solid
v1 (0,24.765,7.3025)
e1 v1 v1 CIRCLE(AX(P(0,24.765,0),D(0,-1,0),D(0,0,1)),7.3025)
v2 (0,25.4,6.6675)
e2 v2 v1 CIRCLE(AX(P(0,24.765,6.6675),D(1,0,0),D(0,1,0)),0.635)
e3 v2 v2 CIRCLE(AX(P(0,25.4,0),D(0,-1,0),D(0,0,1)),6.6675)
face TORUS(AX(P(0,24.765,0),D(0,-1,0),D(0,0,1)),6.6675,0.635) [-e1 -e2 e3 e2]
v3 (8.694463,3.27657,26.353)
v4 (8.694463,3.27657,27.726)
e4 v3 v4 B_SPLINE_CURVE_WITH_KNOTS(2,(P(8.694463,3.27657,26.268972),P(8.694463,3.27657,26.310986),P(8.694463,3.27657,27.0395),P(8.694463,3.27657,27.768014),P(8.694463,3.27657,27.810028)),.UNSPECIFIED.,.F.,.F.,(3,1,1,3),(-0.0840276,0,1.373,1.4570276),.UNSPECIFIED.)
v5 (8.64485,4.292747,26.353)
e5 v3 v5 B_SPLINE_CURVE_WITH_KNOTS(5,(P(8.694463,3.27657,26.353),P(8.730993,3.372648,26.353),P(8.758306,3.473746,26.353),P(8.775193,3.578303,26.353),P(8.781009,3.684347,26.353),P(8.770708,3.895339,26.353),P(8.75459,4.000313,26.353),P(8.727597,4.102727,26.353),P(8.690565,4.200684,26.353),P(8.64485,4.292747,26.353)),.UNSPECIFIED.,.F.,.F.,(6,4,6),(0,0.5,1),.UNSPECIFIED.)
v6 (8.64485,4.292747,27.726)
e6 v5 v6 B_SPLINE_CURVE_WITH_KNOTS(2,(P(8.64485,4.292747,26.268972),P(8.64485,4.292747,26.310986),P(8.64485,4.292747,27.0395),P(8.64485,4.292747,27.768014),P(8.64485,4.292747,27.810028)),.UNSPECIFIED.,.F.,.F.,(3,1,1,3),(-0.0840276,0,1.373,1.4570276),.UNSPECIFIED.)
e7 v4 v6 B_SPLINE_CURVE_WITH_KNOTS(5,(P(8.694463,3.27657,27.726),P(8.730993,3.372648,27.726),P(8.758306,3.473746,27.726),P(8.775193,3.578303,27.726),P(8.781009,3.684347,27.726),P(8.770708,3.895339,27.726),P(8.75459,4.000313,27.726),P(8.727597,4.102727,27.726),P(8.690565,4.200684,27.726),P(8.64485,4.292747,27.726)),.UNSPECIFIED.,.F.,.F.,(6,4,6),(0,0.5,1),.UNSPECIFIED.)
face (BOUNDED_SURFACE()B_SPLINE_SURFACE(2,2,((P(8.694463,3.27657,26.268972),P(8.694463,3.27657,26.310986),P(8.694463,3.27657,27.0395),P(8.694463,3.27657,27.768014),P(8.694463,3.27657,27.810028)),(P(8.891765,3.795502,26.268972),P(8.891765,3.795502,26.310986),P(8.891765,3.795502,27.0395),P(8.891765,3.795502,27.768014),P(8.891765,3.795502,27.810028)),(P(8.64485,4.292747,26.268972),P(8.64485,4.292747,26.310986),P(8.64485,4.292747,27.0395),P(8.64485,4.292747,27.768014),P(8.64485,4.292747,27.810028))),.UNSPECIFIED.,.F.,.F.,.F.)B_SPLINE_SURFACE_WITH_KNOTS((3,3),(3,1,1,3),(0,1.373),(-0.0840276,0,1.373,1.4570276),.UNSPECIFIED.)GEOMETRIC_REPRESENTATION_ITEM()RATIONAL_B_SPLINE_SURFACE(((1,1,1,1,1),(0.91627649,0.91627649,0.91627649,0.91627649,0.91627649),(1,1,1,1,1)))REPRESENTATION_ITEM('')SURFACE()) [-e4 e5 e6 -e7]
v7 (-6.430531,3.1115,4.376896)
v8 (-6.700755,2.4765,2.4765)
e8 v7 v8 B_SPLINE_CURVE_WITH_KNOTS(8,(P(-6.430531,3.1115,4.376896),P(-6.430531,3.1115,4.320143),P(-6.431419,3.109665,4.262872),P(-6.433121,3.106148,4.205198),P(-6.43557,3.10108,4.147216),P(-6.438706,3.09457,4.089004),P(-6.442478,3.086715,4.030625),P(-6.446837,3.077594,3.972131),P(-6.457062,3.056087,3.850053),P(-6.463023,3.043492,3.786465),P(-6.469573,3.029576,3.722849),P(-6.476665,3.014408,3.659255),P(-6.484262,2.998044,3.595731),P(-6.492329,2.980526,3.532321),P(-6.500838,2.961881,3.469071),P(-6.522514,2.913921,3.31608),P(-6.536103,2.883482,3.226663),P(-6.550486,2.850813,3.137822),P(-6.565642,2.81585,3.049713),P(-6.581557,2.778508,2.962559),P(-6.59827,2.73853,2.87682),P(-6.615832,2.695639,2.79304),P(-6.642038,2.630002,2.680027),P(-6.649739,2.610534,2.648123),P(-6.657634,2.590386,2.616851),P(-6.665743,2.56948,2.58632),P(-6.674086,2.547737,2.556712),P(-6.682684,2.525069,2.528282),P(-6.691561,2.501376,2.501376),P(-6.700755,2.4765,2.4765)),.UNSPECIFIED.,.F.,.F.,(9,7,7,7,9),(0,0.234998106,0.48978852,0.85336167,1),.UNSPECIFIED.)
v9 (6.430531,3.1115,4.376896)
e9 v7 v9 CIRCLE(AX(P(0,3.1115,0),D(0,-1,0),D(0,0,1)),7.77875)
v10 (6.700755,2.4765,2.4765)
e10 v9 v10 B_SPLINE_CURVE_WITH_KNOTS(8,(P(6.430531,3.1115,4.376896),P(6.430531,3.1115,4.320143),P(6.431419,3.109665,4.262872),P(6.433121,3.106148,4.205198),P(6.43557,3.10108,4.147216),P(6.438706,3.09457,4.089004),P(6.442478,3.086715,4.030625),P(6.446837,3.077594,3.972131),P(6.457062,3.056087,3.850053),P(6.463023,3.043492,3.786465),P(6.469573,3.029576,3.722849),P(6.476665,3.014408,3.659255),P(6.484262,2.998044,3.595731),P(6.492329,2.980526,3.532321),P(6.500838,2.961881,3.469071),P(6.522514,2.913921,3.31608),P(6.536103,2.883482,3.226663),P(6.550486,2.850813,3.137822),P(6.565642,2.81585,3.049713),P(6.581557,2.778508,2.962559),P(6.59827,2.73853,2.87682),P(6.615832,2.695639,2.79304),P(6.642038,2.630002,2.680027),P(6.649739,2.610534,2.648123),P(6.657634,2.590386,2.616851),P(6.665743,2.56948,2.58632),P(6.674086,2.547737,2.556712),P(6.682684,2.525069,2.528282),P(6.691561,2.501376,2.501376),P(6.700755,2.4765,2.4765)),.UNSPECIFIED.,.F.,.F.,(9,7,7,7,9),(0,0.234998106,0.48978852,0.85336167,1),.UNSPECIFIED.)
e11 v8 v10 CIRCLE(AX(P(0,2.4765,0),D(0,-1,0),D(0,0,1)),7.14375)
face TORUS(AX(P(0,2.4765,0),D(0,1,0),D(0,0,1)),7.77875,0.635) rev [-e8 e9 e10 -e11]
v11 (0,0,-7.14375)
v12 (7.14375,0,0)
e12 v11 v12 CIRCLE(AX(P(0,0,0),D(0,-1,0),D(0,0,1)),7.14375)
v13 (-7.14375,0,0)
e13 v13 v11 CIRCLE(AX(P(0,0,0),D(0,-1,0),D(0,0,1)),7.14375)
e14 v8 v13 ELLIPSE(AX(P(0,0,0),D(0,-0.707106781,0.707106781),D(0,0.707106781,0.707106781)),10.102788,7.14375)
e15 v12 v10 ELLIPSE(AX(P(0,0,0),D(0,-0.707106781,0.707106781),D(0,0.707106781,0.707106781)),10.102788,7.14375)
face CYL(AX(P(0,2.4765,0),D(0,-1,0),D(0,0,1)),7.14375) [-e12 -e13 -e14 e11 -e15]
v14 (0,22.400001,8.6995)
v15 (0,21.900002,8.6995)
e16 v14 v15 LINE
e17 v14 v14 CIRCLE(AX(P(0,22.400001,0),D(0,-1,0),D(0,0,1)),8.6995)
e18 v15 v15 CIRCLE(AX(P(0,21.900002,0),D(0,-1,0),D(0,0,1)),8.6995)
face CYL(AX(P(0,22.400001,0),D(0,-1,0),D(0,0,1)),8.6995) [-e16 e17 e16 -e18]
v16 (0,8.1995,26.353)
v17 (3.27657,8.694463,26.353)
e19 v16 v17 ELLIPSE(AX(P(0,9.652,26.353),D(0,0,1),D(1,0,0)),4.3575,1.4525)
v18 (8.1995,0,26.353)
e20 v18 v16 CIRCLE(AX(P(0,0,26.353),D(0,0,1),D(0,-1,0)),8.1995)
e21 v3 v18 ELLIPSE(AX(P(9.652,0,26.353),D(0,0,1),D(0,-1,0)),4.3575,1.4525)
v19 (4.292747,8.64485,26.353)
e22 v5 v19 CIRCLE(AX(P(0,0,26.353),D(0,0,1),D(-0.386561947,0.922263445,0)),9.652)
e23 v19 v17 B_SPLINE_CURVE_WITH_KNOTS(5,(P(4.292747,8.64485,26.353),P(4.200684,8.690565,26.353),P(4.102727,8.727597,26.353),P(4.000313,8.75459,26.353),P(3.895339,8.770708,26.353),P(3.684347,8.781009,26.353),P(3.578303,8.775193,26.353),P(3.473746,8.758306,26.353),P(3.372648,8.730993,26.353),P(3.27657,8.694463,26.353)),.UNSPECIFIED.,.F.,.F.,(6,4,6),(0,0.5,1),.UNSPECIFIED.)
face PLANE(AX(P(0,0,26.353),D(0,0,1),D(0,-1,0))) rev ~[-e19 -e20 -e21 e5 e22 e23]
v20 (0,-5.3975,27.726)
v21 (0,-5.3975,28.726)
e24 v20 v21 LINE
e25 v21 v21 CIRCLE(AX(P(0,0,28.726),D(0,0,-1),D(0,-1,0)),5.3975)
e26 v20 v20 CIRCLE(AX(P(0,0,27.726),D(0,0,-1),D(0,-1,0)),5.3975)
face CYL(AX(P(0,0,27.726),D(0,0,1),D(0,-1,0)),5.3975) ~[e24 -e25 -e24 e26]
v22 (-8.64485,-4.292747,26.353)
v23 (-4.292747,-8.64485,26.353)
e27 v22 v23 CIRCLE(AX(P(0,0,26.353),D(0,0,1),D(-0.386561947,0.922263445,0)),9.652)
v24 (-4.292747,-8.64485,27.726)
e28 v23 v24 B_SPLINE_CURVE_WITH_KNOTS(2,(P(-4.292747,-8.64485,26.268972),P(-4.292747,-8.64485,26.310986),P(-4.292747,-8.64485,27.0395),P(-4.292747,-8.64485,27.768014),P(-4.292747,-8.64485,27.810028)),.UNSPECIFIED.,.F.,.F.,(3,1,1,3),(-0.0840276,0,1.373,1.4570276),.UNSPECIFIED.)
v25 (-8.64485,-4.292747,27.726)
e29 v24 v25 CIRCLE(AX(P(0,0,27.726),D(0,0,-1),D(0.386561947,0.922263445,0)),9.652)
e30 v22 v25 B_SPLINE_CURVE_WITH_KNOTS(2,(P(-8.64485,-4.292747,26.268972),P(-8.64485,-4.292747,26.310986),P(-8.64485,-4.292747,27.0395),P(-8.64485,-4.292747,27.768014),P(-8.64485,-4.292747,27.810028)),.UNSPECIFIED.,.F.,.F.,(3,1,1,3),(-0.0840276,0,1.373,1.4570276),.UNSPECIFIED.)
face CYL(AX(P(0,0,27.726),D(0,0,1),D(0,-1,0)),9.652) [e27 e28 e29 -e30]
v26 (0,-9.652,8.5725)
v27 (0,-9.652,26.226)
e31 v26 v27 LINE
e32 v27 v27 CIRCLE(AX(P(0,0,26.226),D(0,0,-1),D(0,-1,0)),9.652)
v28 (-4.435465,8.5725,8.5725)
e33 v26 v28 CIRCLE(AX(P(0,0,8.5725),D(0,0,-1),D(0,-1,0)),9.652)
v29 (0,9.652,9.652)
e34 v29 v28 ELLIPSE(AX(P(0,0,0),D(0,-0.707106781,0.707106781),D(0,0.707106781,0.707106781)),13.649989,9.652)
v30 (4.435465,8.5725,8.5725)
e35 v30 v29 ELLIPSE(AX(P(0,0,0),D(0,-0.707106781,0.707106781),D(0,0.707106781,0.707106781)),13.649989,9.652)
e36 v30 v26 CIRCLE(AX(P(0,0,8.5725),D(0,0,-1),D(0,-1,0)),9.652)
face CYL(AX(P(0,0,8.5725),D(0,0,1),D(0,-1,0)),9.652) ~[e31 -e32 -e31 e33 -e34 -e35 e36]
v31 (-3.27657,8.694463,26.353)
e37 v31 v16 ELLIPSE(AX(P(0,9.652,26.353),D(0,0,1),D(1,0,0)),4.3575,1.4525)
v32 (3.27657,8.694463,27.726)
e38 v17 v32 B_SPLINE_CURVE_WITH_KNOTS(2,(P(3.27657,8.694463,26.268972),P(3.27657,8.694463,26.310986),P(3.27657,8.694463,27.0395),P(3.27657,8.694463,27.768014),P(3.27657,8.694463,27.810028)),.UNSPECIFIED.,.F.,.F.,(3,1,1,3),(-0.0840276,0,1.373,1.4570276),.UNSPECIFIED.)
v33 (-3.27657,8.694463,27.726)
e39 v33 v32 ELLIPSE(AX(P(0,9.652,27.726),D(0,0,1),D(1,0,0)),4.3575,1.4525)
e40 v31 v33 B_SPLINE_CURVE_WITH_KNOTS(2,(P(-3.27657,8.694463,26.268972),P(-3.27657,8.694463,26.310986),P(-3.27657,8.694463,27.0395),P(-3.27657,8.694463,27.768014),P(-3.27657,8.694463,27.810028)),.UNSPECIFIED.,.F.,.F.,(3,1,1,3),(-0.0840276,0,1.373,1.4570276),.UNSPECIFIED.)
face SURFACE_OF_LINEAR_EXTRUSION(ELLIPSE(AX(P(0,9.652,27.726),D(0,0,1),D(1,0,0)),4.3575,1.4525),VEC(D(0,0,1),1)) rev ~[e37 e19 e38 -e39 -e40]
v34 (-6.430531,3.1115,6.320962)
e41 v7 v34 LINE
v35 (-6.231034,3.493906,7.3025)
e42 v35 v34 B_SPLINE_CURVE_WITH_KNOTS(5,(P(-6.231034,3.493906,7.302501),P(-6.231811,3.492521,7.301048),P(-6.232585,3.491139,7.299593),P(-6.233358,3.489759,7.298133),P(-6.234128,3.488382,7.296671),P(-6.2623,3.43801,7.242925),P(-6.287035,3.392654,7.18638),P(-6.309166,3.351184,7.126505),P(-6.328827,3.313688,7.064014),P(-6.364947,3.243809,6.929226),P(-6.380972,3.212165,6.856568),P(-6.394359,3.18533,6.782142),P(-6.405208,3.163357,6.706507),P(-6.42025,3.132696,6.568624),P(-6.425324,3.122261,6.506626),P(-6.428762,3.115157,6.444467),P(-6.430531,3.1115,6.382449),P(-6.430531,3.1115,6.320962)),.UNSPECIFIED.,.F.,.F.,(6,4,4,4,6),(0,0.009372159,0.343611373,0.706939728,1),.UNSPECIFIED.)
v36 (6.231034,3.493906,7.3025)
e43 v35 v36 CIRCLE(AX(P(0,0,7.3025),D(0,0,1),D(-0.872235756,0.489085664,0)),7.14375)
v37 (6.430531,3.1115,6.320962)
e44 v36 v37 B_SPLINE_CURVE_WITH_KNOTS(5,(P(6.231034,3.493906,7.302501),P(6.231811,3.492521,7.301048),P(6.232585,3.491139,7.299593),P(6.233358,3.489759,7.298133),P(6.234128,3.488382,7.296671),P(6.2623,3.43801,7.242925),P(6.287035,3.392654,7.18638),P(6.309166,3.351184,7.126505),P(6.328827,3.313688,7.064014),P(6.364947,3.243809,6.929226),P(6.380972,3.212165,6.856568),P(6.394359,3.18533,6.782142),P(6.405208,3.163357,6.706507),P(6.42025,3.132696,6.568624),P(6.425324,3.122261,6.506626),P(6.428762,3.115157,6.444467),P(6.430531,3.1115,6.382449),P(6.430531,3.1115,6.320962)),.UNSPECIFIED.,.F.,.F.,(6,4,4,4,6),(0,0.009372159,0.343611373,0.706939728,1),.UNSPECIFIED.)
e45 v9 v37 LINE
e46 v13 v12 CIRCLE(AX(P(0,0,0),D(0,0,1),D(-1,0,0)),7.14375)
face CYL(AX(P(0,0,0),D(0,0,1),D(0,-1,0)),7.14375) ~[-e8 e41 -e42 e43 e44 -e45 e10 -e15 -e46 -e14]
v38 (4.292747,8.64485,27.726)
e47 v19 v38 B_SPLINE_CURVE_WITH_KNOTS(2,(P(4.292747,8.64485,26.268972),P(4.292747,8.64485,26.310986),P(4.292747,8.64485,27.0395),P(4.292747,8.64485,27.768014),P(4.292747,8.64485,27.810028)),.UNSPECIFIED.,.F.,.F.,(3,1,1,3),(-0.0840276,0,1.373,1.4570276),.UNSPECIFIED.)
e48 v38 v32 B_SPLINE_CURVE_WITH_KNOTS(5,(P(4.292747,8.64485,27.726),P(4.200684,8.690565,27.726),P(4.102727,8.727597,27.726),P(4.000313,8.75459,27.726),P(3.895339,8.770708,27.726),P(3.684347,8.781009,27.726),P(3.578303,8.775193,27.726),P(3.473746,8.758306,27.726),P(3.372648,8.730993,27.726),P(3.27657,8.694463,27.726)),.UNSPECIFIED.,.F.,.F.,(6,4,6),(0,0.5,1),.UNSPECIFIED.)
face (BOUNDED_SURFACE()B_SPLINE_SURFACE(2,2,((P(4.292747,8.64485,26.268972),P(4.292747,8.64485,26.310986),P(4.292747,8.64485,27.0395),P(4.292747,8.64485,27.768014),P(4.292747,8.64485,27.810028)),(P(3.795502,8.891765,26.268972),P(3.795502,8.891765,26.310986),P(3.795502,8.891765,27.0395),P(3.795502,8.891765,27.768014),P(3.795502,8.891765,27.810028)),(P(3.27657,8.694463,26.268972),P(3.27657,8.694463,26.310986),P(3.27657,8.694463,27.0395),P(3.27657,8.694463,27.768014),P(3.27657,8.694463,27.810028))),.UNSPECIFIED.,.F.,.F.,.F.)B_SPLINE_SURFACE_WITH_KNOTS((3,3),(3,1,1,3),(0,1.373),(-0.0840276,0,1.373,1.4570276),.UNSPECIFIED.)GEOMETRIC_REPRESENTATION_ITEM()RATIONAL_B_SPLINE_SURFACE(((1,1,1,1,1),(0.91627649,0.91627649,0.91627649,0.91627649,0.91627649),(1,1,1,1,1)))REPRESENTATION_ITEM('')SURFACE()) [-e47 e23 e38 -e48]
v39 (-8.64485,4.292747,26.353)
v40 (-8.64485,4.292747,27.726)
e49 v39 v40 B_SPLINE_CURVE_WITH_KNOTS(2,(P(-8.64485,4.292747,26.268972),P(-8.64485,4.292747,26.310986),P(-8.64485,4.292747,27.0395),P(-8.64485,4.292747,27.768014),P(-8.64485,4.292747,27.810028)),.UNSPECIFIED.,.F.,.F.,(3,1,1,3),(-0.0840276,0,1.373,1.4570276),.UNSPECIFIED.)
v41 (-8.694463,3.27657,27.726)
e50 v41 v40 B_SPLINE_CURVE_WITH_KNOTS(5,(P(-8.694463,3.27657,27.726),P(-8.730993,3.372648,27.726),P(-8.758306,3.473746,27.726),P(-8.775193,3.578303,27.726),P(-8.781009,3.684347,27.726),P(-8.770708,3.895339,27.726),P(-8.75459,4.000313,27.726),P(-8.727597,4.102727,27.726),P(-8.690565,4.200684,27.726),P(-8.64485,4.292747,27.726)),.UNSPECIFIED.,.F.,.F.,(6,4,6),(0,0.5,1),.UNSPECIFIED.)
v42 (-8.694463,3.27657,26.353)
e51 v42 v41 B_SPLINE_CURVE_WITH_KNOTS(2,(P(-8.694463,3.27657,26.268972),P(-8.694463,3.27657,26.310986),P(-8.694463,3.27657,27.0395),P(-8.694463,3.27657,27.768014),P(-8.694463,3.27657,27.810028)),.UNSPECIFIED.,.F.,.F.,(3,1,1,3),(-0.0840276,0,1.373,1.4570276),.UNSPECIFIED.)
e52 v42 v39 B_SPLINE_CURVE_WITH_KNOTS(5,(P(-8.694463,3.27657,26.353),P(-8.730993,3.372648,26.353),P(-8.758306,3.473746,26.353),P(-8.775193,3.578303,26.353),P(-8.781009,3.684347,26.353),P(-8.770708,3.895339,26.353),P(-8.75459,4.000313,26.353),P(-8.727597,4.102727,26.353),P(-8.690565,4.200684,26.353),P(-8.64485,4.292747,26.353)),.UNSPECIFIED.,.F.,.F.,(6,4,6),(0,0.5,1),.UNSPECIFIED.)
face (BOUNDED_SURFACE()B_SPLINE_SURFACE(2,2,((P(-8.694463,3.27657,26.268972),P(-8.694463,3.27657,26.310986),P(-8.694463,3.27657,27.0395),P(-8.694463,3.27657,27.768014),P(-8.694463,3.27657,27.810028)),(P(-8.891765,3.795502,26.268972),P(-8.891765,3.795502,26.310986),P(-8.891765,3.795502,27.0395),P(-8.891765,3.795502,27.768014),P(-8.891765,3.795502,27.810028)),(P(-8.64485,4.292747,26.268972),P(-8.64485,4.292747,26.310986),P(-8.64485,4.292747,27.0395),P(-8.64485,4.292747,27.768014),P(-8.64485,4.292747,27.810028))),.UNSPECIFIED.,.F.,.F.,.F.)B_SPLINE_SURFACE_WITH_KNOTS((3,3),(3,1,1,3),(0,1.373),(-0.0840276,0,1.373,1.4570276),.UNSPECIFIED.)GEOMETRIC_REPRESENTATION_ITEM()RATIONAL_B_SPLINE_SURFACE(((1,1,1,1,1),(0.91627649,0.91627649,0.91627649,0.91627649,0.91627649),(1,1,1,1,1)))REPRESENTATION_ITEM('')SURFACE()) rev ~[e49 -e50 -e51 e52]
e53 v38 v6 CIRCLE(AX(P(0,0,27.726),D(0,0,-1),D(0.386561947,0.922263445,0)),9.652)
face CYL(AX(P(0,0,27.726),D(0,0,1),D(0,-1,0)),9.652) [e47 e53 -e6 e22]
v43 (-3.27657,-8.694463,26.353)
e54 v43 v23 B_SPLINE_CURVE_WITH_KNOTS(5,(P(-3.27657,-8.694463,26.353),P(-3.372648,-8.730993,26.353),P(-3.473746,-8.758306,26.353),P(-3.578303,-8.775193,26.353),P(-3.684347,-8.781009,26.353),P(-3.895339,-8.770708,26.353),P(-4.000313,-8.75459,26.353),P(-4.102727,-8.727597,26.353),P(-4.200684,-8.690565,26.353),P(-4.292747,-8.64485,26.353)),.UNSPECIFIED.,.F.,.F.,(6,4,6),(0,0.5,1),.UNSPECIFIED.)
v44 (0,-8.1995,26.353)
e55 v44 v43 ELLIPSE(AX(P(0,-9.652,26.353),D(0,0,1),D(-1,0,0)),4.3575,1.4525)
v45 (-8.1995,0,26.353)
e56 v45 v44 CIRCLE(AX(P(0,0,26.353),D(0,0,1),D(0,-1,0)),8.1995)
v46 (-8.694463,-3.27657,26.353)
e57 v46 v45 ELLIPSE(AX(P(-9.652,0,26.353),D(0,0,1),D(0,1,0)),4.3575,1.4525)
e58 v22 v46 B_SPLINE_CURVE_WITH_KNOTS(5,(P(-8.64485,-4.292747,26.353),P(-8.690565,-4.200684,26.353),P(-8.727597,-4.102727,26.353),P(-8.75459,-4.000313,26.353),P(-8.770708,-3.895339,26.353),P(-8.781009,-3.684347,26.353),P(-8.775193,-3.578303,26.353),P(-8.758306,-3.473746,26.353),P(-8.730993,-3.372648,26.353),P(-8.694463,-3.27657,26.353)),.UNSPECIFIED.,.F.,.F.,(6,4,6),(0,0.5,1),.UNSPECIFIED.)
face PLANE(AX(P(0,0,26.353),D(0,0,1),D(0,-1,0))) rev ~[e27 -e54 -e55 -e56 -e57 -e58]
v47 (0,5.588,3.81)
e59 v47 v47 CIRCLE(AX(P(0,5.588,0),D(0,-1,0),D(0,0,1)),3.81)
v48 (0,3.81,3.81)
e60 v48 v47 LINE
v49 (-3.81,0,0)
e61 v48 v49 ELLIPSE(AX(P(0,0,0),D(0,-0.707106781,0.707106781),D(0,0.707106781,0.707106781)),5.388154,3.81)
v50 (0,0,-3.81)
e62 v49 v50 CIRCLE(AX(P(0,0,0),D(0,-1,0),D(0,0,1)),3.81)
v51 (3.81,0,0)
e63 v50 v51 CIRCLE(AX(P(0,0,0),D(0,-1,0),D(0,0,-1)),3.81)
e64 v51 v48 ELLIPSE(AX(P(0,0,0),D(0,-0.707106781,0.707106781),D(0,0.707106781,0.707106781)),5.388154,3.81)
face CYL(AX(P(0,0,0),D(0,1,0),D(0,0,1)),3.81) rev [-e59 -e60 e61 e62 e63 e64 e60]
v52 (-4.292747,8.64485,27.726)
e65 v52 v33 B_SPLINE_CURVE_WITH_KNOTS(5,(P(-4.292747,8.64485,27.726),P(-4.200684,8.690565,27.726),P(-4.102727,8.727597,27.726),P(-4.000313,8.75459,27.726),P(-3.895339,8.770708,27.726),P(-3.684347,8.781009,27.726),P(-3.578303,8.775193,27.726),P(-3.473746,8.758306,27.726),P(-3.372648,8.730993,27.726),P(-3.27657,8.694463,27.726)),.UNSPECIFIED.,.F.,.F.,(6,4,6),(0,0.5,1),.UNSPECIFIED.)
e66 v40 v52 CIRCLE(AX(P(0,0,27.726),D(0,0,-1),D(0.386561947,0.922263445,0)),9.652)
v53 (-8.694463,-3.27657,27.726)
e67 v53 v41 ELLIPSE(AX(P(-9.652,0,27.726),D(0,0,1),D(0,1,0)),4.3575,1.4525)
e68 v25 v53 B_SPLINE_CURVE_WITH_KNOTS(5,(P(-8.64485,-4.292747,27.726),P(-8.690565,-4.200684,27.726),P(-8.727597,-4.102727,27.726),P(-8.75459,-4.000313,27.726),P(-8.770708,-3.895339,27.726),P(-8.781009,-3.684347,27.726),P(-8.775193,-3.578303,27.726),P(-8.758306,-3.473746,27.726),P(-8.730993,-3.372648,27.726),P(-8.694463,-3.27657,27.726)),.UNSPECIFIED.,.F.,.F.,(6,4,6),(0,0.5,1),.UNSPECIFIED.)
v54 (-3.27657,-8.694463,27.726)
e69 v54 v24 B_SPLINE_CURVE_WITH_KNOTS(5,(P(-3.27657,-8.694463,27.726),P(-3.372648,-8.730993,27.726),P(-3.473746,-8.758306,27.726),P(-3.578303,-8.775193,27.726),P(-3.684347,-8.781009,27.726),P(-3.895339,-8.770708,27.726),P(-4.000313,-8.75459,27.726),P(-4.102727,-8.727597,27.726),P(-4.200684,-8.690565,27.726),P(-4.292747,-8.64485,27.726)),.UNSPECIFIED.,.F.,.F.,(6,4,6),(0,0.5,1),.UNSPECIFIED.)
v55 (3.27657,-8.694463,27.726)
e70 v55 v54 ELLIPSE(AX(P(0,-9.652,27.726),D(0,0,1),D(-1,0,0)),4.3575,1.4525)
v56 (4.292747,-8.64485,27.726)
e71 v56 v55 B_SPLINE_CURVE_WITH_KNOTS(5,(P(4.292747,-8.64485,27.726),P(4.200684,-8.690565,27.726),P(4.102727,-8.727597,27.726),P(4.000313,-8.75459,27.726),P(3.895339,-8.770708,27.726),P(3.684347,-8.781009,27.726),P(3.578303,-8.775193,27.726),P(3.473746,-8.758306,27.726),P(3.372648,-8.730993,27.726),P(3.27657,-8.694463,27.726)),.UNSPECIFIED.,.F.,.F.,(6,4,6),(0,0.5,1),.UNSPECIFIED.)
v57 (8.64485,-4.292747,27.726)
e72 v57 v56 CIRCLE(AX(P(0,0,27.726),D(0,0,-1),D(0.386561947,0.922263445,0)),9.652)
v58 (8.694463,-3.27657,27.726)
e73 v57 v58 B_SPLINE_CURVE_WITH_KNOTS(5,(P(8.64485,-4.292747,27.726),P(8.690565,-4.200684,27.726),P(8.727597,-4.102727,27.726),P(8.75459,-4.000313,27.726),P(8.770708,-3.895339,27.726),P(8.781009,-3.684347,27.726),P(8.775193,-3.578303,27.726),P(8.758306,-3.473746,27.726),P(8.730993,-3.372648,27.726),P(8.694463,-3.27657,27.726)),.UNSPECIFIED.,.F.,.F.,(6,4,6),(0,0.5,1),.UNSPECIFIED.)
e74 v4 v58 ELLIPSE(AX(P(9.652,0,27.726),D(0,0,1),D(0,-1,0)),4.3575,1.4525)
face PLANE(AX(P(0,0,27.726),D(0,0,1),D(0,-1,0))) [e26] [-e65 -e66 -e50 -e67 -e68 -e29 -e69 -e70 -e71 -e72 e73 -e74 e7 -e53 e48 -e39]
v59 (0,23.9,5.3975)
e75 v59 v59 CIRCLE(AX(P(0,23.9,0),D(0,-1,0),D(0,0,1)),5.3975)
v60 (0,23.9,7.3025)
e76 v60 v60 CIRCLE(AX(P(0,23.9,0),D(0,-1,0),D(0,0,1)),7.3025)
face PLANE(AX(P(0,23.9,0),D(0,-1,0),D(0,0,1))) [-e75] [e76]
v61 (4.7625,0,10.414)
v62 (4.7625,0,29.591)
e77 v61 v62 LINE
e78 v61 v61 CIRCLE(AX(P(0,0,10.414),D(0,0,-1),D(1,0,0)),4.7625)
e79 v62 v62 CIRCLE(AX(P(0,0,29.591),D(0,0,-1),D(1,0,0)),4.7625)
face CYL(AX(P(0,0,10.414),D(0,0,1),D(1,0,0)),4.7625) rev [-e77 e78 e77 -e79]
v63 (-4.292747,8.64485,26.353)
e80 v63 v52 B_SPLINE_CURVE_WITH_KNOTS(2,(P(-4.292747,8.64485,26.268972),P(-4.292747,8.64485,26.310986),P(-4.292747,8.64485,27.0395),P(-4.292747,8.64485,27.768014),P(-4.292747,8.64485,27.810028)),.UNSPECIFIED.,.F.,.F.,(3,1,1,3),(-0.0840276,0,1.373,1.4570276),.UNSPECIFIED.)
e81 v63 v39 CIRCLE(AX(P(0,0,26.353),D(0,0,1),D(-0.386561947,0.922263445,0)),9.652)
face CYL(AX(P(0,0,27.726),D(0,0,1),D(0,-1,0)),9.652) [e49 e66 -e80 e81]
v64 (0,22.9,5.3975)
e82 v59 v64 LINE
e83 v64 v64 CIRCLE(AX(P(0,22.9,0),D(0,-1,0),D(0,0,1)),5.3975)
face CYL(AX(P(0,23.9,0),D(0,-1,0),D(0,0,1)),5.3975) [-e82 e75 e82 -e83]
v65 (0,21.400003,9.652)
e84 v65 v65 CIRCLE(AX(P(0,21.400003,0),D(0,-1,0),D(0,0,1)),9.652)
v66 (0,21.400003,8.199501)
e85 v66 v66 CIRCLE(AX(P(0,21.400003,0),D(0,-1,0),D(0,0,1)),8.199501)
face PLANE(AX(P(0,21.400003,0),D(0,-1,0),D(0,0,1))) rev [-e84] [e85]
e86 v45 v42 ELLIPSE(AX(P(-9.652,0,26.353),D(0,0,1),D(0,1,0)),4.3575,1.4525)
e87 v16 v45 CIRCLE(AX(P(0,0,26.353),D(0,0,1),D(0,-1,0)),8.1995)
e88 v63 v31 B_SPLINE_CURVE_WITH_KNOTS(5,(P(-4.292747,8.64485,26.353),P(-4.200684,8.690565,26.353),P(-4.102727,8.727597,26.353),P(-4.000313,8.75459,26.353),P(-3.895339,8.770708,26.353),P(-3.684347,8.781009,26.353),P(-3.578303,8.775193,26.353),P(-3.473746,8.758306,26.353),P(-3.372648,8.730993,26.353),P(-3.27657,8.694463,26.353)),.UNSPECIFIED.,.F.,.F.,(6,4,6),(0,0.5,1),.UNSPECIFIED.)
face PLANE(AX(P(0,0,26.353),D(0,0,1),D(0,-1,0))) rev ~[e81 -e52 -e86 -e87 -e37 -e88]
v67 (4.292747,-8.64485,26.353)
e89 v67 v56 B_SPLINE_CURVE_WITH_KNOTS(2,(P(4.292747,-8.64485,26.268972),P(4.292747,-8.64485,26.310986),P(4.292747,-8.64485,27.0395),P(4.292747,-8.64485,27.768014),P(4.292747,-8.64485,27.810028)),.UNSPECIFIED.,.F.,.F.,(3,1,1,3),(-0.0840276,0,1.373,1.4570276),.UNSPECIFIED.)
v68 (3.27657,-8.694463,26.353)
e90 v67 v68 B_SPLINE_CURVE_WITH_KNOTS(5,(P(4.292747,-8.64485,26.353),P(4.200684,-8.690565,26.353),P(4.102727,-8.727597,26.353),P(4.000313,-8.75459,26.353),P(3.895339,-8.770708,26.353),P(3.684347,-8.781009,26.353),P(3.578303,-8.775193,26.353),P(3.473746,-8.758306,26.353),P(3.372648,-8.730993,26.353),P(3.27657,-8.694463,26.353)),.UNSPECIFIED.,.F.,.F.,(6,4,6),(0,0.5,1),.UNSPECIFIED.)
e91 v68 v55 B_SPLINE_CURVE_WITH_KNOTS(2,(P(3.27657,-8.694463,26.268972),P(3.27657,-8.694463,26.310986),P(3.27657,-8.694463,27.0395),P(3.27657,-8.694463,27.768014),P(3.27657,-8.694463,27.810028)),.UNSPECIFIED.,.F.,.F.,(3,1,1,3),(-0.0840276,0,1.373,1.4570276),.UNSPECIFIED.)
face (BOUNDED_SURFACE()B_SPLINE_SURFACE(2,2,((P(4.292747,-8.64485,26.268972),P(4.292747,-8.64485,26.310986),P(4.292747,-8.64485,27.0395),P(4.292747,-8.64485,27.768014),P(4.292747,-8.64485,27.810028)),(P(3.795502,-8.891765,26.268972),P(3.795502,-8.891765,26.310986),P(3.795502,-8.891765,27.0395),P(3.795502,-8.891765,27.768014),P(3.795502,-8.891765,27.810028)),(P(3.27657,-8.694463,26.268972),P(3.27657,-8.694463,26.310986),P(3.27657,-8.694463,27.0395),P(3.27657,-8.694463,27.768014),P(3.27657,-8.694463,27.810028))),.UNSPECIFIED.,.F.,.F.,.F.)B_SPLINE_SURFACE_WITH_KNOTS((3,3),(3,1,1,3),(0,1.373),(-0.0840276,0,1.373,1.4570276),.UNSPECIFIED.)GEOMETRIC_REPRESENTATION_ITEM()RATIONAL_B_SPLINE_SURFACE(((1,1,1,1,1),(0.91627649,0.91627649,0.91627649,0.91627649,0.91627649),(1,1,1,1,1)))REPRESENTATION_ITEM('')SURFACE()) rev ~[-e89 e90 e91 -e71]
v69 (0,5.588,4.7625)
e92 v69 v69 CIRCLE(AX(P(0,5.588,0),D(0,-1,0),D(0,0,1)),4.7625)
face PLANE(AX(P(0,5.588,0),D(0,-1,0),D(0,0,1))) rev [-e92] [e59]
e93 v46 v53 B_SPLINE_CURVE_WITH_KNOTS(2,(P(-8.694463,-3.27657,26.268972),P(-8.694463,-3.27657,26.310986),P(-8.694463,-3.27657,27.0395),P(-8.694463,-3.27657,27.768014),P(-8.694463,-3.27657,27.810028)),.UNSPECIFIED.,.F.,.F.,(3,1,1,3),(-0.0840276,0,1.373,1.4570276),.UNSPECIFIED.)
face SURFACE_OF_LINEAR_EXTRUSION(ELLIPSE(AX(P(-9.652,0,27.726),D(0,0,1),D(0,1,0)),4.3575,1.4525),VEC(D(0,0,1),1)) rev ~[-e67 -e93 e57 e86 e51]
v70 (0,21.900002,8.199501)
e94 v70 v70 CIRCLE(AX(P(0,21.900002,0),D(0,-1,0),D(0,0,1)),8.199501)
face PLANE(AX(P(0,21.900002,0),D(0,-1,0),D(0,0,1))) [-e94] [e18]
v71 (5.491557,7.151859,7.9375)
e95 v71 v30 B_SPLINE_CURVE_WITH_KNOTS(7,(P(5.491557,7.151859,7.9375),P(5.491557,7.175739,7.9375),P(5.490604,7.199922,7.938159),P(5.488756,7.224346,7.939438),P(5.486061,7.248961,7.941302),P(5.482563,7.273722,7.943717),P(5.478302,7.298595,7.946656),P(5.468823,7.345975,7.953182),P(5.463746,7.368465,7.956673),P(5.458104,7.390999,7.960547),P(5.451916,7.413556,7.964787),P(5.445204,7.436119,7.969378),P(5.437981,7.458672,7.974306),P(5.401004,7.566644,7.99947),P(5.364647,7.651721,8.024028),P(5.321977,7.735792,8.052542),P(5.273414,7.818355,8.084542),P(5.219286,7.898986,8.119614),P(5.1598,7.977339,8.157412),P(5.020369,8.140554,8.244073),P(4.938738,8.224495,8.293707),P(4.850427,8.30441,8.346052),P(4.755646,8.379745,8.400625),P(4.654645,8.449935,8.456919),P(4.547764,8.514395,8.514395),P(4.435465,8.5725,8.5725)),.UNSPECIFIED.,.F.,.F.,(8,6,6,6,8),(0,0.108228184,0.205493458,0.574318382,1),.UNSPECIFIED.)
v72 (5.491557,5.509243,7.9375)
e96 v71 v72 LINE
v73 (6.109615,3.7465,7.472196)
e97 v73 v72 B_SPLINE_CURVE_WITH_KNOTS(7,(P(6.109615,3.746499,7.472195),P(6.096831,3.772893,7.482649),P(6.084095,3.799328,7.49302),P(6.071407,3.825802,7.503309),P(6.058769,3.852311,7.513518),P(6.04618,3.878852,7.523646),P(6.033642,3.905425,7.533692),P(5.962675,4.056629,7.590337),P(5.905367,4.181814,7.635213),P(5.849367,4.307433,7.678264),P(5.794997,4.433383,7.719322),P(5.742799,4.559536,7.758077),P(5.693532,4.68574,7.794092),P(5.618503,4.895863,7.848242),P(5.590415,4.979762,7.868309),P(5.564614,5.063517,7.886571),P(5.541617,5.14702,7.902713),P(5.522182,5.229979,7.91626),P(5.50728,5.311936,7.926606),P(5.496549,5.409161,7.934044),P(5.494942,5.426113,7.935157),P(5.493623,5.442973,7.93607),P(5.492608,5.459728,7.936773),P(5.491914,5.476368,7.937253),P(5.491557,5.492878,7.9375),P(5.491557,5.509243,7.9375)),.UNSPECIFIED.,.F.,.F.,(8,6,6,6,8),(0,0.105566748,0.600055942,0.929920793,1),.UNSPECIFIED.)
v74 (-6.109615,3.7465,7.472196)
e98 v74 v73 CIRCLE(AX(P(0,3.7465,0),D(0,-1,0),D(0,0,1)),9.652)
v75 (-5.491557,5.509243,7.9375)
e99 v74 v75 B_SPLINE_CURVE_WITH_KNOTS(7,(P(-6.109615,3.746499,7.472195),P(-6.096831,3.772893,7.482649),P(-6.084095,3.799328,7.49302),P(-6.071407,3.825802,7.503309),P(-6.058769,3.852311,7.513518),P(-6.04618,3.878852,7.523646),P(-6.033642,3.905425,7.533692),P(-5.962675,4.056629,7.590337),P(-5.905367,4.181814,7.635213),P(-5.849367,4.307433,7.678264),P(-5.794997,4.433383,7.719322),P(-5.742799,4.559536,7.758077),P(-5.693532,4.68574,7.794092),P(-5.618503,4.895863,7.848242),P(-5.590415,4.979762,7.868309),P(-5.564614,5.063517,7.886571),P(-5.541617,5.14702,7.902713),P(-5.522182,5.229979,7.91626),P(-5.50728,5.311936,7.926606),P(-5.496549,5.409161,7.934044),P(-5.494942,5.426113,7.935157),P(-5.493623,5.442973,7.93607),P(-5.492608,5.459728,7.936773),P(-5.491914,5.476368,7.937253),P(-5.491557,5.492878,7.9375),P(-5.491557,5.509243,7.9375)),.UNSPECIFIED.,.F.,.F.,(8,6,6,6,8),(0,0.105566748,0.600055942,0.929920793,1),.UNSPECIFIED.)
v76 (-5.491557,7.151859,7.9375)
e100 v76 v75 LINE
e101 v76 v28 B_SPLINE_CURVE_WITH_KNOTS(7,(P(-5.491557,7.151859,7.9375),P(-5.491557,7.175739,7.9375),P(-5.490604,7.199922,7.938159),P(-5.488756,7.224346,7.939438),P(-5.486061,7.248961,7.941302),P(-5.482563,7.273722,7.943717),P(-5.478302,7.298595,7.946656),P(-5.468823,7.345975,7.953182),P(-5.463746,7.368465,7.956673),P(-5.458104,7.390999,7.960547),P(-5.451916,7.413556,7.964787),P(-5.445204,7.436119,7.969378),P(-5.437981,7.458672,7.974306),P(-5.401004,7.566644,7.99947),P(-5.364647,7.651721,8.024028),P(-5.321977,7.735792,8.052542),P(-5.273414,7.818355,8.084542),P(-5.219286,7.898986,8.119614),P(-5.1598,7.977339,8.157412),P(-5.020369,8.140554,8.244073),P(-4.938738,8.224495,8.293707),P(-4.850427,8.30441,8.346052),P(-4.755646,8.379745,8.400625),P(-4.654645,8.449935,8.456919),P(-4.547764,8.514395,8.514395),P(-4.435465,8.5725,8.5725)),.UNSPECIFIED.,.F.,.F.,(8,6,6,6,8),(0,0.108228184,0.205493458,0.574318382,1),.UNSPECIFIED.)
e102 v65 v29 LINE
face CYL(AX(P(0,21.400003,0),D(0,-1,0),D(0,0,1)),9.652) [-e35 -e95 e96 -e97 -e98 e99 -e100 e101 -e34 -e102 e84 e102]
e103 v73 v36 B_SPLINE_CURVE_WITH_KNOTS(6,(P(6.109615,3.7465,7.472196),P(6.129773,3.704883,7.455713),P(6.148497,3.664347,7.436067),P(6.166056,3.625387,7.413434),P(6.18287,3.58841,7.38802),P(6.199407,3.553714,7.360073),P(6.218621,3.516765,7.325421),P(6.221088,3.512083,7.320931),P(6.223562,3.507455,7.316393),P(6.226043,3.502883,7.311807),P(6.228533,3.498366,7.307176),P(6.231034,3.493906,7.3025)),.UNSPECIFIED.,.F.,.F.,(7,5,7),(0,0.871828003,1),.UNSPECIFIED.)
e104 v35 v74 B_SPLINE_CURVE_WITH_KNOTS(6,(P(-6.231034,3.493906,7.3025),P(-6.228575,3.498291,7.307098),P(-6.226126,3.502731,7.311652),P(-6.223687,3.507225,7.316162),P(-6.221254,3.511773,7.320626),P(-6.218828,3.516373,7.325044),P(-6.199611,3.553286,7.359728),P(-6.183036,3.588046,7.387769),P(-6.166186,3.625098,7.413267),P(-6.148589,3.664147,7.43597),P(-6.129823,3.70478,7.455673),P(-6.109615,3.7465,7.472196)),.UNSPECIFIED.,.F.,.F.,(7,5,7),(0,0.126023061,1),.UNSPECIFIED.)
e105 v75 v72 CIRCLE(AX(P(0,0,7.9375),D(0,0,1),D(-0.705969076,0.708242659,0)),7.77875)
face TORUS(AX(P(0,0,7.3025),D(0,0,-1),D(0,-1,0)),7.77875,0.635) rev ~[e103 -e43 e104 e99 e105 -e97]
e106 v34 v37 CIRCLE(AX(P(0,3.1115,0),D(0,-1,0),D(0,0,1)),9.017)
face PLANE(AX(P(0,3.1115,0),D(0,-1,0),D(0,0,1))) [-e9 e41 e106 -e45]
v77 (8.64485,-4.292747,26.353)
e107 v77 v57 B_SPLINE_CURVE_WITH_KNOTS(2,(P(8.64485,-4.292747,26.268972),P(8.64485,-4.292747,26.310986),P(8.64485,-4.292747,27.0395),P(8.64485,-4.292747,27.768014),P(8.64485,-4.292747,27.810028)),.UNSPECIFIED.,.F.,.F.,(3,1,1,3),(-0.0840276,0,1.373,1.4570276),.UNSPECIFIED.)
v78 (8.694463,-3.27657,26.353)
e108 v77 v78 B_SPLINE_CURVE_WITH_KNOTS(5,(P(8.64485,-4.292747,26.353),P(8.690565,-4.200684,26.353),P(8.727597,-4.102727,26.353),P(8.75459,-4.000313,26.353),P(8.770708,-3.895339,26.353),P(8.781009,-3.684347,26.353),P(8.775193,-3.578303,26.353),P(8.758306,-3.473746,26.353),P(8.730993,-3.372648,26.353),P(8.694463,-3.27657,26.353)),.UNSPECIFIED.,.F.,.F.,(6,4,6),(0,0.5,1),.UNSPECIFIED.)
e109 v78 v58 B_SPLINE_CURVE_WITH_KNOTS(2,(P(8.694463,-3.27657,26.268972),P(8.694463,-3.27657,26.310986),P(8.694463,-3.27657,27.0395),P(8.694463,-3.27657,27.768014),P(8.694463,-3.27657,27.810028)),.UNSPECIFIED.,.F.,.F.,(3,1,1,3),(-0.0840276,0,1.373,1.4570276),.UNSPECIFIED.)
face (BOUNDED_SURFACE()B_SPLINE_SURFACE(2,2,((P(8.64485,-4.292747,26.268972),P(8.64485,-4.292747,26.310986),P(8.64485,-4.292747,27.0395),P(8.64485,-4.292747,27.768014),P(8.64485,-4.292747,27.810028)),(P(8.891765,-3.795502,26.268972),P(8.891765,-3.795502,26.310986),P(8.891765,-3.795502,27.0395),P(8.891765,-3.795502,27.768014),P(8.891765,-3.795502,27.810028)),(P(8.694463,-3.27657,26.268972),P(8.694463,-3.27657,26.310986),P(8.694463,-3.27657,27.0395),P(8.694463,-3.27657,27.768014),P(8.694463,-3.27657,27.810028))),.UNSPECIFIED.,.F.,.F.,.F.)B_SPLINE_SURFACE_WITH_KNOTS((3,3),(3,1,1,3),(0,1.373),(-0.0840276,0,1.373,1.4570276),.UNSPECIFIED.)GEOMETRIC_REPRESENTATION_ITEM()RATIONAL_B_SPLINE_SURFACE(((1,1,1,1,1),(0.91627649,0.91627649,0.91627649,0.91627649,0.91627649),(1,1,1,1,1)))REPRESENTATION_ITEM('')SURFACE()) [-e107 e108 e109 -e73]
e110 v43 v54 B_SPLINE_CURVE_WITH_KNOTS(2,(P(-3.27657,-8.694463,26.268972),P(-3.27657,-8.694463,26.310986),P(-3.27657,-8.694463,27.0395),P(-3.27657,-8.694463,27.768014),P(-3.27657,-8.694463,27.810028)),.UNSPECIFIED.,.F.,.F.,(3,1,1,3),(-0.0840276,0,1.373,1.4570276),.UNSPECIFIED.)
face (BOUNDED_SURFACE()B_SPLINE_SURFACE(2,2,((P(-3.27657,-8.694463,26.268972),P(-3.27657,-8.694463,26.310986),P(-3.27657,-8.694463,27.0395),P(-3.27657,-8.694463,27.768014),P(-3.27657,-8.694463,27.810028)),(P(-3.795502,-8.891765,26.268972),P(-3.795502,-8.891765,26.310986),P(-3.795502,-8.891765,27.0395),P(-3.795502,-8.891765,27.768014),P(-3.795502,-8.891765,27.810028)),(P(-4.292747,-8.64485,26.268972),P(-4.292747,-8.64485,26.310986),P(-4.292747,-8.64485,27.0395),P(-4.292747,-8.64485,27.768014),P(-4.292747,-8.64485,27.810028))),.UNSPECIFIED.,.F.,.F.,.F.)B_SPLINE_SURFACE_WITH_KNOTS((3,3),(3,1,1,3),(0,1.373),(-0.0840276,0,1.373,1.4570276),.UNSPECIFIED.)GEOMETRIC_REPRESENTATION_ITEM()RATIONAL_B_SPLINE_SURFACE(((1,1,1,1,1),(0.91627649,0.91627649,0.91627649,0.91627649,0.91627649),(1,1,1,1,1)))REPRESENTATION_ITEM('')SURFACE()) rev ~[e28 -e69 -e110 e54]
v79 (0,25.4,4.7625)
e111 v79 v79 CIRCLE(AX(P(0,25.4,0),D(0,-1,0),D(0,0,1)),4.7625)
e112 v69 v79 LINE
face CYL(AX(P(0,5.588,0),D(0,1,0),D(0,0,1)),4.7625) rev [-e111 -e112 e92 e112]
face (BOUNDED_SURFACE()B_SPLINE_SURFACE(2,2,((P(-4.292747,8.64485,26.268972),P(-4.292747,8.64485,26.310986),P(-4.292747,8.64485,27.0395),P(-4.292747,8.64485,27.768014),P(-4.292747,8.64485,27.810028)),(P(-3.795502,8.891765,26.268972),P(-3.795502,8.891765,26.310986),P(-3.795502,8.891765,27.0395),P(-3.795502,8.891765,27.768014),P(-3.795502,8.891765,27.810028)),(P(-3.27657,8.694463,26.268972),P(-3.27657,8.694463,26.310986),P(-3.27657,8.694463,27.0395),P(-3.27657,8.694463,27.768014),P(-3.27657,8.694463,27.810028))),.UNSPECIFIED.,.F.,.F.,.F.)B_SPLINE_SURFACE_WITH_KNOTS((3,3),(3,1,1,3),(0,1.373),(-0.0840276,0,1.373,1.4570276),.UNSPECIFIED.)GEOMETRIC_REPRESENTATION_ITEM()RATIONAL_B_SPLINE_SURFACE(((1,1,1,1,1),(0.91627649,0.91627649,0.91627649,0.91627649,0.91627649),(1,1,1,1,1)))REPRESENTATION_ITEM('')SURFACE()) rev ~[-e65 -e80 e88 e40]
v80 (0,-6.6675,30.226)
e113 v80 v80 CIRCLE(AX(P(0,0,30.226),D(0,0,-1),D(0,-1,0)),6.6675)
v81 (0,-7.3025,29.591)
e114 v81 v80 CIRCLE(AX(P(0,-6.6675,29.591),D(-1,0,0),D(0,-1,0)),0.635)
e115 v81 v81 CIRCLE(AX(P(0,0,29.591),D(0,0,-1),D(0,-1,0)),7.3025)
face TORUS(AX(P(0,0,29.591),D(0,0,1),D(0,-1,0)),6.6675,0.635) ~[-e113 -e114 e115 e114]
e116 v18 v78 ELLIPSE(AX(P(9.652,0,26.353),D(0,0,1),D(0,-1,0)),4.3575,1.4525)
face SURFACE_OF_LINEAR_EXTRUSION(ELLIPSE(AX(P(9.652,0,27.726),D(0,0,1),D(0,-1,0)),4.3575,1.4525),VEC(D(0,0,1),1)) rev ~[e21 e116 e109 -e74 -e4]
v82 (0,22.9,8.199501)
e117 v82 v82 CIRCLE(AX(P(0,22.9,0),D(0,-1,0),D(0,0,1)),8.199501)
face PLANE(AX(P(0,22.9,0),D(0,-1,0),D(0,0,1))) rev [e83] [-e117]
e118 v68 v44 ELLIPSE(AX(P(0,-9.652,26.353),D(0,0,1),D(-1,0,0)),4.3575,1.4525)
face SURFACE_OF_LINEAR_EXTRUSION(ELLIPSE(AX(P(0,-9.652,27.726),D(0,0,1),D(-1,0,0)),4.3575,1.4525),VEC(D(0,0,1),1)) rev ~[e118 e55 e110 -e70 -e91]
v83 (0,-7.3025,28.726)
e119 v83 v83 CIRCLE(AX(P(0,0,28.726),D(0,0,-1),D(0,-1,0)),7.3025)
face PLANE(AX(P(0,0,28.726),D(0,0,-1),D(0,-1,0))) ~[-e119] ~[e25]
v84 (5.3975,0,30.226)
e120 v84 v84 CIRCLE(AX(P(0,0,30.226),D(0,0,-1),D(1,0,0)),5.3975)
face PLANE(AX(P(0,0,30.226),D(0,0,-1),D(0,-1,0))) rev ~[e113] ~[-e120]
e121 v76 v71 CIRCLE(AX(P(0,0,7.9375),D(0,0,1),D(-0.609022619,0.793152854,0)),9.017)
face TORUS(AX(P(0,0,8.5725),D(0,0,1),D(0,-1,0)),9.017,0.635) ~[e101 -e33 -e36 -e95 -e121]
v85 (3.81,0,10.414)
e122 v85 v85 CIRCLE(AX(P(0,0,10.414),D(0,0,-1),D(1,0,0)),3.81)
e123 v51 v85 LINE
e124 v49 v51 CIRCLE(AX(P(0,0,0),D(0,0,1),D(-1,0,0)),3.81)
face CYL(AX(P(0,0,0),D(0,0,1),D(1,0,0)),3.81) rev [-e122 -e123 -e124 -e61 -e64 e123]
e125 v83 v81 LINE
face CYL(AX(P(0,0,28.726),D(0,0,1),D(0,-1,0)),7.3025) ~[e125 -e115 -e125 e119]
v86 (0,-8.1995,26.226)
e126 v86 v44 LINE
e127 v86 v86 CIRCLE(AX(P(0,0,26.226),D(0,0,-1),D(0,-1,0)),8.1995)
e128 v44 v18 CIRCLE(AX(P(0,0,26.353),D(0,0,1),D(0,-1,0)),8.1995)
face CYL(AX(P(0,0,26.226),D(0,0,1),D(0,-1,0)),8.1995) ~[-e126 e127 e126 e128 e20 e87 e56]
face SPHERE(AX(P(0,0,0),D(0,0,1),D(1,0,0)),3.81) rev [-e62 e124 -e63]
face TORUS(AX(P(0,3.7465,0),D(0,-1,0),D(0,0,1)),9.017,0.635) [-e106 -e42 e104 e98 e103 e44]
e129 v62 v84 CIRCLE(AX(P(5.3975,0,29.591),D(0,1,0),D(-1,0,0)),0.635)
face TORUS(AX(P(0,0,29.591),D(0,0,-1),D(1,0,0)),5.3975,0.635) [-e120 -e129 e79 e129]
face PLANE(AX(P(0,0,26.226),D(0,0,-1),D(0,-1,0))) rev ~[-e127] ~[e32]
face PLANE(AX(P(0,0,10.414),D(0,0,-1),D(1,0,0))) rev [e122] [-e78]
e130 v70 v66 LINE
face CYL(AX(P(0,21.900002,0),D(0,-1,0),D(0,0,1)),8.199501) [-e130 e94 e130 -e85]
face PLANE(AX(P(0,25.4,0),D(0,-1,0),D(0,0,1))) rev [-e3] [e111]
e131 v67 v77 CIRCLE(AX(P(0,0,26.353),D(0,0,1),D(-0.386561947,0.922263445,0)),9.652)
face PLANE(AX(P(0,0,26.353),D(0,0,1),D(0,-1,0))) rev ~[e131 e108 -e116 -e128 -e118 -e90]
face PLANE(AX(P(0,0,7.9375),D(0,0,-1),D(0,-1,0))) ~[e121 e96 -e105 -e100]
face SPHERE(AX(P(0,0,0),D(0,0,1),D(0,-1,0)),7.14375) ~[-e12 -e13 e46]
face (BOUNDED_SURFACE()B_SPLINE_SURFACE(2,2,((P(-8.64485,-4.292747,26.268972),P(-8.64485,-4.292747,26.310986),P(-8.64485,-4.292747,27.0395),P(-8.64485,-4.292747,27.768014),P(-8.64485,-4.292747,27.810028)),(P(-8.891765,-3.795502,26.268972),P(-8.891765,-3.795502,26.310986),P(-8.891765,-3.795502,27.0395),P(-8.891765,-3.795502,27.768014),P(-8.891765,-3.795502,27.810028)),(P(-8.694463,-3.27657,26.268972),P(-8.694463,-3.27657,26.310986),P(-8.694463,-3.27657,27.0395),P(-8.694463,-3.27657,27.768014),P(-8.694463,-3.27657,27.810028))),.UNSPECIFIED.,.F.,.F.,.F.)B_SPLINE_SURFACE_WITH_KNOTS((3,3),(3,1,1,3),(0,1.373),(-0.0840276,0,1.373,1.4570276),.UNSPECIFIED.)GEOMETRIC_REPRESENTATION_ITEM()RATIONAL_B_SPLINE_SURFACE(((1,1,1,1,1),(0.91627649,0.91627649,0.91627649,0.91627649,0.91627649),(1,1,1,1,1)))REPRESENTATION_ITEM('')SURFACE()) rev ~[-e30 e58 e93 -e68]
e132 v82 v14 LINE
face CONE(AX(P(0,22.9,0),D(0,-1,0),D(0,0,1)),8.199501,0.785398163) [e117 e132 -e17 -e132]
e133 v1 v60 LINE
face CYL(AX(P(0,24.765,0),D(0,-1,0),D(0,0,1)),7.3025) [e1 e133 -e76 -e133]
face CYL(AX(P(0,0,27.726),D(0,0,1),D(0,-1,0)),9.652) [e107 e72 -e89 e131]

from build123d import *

# Parameters (mm, degrees)
SKETCH3_R                = 9.652
SKETCH3_R_2              = 8.1995
BOSS_EXTRUDE1_DEPTH      = 1.373
SKETCH4_RX               = 4.3575
SKETCH4_RY               = 1.4525
CUT_EXTRUDE1_DEPTH       = 1.373
FILLET1_R                = 1.27
CIRPATTERN1_COUNT        = 4
FILLET1_OF_CIRPATTERN1_R = 1.27


with BuildPart() as part:
    # Sketch1 → Revolve1 (revolve)
    with BuildSketch(Plane(origin=(0, 0, 0), x_dir=(0, 0, -1), z_dir=(1, 0, 0)), mode=Mode.PRIVATE) as revolve1_sk:
        with BuildLine():
            Line((-30.226, 0), (7.14375, 0))
            ThreePointArc((7.14375, 0), (5.051394068, 5.051394068), (0, 7.14375))
            Line((0, 7.14375), (-7.3025, 7.14375))
            ThreePointArc((-7.3025, 7.14375), (-7.751512806, 7.329737194), (-7.9375, 7.77875))
            Line((-7.9375, 7.77875), (-7.9375, 9.017))
            ThreePointArc((-7.9375, 9.017), (-8.123487194, 9.466012806), (-8.5725, 9.652))
            Line((-8.5725, 9.652), (-26.226, 9.652))
            Line((-26.226, 9.652), (-26.226, 8.1995))
            Line((-26.226, 8.1995), (-26.726, 8.1995))
            Line((-26.726, 8.1995), (-26.726, 8.6995))
            Line((-26.726, 8.6995), (-27.226, 8.6995))
            Line((-27.226, 8.6995), (-27.726, 8.1995))
            Line((-27.726, 8.1995), (-27.726, 5.3975))
            Line((-27.726, 5.3975), (-28.726, 5.3975))
            Line((-28.726, 5.3975), (-28.726, 7.3025))
            Line((-28.726, 7.3025), (-29.591, 7.3025))
            ThreePointArc((-29.591, 7.3025), (-30.040012806, 7.116512806), (-30.226, 6.6675))
            Line((-30.226, 6.6675), (-30.226, 0))
        make_face()
    revolve(revolve1_sk.sketch.rotate(Axis((0, 0, 30.226), (0, 0, -1)), 180), axis=Axis((0, 0, 30.226), (0, 0, -1)))

    # Sketch5 → Revolve2 (revolve)
    with BuildSketch(Plane(origin=(0, 0, 0), x_dir=(0, 0, -1), z_dir=(1, 0, 0)), mode=Mode.PRIVATE) as revolve2_sk:
        with BuildLine():
            Line((0, -7.14375), (0, 25.4))
            Line((0, 25.4), (6.6675, 25.4))
            ThreePointArc((6.6675, 25.4), (7.116512806, 25.214012806), (7.3025, 24.765))
            Line((7.3025, 24.765), (7.3025, 23.9))
            Line((7.3025, 23.9), (5.3975, 23.9))
            Line((5.3975, 23.9), (5.3975, 22.9))
            Line((5.3975, 22.9), (8.199501, 22.9))
            Line((8.199501, 22.9), (8.6995, 22.400001))
            Line((8.6995, 22.400001), (8.6995, 21.900002))
            Line((8.6995, 21.900002), (8.199501, 21.900002))
            Line((8.199501, 21.900002), (8.199501, 21.400003))
            Line((8.199501, 21.400003), (9.652, 21.400003))
            Line((9.652, 21.400003), (9.652, 3.7465))
            ThreePointArc((9.652, 3.7465), (9.466012806, 3.297487194), (9.017, 3.1115))
            Line((9.017, 3.1115), (7.77875, 3.1115))
            ThreePointArc((7.77875, 3.1115), (7.329737194, 2.925512806), (7.14375, 2.4765))
            Line((7.14375, 2.4765), (7.14375, 0))
            ThreePointArc((7.14375, 0), (5.051394068, -5.051394068), (0, -7.14375))
        make_face()
    revolve(revolve2_sk.sketch.rotate(Axis((0, 0, 0), (0, -1, 0)), 180), axis=Axis((0, 0, 0), (0, -1, 0)))

    # Sketch2 → Cut-Revolve1 (revolve, cut)
    with BuildSketch(Plane(origin=(0, 0, 0), x_dir=(0, 0, -1), z_dir=(1, 0, 0)), mode=Mode.PRIVATE) as cut_revolve1_sk:
        with BuildLine():
            Line((-30.226, 4.7625), (-30.226, 0))
            Line((-30.226, 0), (3.81, 0))
            ThreePointArc((3.81, 0), (2.694076836, 2.694076836), (0, 3.81))
            Line((0, 3.81), (-10.414, 3.81))
            Line((-10.414, 3.81), (-10.414, 4.7625))
            Line((-10.414, 4.7625), (-29.591, 4.7625))
            ThreePointArc((-29.591, 4.7625), (-30.040012806, 4.948487194), (-30.226, 5.3975))
            Line((-30.226, 5.3975), (-30.226, 4.7625))
        make_face()
    revolve(cut_revolve1_sk.sketch.rotate(Axis((0, 0, 30.226), (0, 0, -1)), 90), axis=Axis((0, 0, 30.226), (0, 0, -1)), mode=Mode.SUBTRACT)

    # Sketch6 → Cut-Revolve2 (revolve, cut)
    with BuildSketch(Plane(origin=(0, 0, 0), x_dir=(0, 0, -1), z_dir=(1, 0, 0)), mode=Mode.PRIVATE) as cut_revolve2_sk:
        with BuildLine():
            Line((4.7625, 25.4), (0, 25.4))
            Line((0, 25.4), (0, -3.81))
            ThreePointArc((0, -3.81), (2.694076836, -2.694076836), (3.81, 0))
            Line((3.81, 0), (3.81, 5.588))
            Line((3.81, 5.588), (4.7625, 5.588))
            Line((4.7625, 5.588), (4.7625, 25.4))
        make_face()
    revolve(cut_revolve2_sk.sketch.rotate(Axis((0, 25.4, 0), (0, -1, 0)), 180), axis=Axis((0, 25.4, 0), (0, -1, 0)), mode=Mode.SUBTRACT)

    # Sketch3 → Boss-Extrude1 (add)
    with BuildSketch(Plane.XY.offset(27.726)):
        with Locations(Location((0, 0, 0), (0, 0, 270))):
            Circle(SKETCH3_R)
        with Locations(Location((0, 0, 0), (0, 0, 270))):
            Circle(SKETCH3_R_2, mode=Mode.SUBTRACT)
    extrude(amount=-BOSS_EXTRUDE1_DEPTH)

    # Sketch4 → Cut-Extrude1 (cut)
    with BuildSketch(Plane.XY.offset(27.726)):
        with Locations((0, 9.652)):
            Ellipse(SKETCH4_RX, SKETCH4_RY)
    cut_extrude1 = extrude(amount=-CUT_EXTRUDE1_DEPTH, mode=Mode.SUBTRACT)

    # Fillet1
    fillet1_edges = [part.edges().sort_by_distance(p)[0] for p in [
        (3.731095913, 8.901686766, 27.0395),
        (-3.731095913, 8.901686766, 27.0395),
    ]]
    fillet(fillet1_edges, radius=FILLET1_R)

    # CirPattern1: Cut-Extrude1 ×4 about axis
    cirpattern1_axis = Axis((0, 0, -1.073978608), (0, 0, 1))
    for i in range(1, CIRPATTERN1_COUNT):
        add(cut_extrude1.rotate(cirpattern1_axis, i * 360 / CIRPATTERN1_COUNT), mode=Mode.SUBTRACT)

    # Fillet1 of CirPattern1
    fillet1_of_cirpattern1_edges = [part.edges().sort_by_distance(p)[0] for p in [
        (-8.901686766, 3.731095913, 27.0395),
        (-8.901686766, -3.731095913, 27.0395),
        (-3.731095913, -8.901686766, 27.0395),
        (3.731095913, -8.901686766, 27.0395),
        (8.901686766, -3.731095913, 27.0395),
        (8.901686766, 3.731095913, 27.0395),
    ]]
    fillet(fillet1_of_cirpattern1_edges, radius=FILLET1_OF_CIRPATTERN1_R)


solid = part.part
